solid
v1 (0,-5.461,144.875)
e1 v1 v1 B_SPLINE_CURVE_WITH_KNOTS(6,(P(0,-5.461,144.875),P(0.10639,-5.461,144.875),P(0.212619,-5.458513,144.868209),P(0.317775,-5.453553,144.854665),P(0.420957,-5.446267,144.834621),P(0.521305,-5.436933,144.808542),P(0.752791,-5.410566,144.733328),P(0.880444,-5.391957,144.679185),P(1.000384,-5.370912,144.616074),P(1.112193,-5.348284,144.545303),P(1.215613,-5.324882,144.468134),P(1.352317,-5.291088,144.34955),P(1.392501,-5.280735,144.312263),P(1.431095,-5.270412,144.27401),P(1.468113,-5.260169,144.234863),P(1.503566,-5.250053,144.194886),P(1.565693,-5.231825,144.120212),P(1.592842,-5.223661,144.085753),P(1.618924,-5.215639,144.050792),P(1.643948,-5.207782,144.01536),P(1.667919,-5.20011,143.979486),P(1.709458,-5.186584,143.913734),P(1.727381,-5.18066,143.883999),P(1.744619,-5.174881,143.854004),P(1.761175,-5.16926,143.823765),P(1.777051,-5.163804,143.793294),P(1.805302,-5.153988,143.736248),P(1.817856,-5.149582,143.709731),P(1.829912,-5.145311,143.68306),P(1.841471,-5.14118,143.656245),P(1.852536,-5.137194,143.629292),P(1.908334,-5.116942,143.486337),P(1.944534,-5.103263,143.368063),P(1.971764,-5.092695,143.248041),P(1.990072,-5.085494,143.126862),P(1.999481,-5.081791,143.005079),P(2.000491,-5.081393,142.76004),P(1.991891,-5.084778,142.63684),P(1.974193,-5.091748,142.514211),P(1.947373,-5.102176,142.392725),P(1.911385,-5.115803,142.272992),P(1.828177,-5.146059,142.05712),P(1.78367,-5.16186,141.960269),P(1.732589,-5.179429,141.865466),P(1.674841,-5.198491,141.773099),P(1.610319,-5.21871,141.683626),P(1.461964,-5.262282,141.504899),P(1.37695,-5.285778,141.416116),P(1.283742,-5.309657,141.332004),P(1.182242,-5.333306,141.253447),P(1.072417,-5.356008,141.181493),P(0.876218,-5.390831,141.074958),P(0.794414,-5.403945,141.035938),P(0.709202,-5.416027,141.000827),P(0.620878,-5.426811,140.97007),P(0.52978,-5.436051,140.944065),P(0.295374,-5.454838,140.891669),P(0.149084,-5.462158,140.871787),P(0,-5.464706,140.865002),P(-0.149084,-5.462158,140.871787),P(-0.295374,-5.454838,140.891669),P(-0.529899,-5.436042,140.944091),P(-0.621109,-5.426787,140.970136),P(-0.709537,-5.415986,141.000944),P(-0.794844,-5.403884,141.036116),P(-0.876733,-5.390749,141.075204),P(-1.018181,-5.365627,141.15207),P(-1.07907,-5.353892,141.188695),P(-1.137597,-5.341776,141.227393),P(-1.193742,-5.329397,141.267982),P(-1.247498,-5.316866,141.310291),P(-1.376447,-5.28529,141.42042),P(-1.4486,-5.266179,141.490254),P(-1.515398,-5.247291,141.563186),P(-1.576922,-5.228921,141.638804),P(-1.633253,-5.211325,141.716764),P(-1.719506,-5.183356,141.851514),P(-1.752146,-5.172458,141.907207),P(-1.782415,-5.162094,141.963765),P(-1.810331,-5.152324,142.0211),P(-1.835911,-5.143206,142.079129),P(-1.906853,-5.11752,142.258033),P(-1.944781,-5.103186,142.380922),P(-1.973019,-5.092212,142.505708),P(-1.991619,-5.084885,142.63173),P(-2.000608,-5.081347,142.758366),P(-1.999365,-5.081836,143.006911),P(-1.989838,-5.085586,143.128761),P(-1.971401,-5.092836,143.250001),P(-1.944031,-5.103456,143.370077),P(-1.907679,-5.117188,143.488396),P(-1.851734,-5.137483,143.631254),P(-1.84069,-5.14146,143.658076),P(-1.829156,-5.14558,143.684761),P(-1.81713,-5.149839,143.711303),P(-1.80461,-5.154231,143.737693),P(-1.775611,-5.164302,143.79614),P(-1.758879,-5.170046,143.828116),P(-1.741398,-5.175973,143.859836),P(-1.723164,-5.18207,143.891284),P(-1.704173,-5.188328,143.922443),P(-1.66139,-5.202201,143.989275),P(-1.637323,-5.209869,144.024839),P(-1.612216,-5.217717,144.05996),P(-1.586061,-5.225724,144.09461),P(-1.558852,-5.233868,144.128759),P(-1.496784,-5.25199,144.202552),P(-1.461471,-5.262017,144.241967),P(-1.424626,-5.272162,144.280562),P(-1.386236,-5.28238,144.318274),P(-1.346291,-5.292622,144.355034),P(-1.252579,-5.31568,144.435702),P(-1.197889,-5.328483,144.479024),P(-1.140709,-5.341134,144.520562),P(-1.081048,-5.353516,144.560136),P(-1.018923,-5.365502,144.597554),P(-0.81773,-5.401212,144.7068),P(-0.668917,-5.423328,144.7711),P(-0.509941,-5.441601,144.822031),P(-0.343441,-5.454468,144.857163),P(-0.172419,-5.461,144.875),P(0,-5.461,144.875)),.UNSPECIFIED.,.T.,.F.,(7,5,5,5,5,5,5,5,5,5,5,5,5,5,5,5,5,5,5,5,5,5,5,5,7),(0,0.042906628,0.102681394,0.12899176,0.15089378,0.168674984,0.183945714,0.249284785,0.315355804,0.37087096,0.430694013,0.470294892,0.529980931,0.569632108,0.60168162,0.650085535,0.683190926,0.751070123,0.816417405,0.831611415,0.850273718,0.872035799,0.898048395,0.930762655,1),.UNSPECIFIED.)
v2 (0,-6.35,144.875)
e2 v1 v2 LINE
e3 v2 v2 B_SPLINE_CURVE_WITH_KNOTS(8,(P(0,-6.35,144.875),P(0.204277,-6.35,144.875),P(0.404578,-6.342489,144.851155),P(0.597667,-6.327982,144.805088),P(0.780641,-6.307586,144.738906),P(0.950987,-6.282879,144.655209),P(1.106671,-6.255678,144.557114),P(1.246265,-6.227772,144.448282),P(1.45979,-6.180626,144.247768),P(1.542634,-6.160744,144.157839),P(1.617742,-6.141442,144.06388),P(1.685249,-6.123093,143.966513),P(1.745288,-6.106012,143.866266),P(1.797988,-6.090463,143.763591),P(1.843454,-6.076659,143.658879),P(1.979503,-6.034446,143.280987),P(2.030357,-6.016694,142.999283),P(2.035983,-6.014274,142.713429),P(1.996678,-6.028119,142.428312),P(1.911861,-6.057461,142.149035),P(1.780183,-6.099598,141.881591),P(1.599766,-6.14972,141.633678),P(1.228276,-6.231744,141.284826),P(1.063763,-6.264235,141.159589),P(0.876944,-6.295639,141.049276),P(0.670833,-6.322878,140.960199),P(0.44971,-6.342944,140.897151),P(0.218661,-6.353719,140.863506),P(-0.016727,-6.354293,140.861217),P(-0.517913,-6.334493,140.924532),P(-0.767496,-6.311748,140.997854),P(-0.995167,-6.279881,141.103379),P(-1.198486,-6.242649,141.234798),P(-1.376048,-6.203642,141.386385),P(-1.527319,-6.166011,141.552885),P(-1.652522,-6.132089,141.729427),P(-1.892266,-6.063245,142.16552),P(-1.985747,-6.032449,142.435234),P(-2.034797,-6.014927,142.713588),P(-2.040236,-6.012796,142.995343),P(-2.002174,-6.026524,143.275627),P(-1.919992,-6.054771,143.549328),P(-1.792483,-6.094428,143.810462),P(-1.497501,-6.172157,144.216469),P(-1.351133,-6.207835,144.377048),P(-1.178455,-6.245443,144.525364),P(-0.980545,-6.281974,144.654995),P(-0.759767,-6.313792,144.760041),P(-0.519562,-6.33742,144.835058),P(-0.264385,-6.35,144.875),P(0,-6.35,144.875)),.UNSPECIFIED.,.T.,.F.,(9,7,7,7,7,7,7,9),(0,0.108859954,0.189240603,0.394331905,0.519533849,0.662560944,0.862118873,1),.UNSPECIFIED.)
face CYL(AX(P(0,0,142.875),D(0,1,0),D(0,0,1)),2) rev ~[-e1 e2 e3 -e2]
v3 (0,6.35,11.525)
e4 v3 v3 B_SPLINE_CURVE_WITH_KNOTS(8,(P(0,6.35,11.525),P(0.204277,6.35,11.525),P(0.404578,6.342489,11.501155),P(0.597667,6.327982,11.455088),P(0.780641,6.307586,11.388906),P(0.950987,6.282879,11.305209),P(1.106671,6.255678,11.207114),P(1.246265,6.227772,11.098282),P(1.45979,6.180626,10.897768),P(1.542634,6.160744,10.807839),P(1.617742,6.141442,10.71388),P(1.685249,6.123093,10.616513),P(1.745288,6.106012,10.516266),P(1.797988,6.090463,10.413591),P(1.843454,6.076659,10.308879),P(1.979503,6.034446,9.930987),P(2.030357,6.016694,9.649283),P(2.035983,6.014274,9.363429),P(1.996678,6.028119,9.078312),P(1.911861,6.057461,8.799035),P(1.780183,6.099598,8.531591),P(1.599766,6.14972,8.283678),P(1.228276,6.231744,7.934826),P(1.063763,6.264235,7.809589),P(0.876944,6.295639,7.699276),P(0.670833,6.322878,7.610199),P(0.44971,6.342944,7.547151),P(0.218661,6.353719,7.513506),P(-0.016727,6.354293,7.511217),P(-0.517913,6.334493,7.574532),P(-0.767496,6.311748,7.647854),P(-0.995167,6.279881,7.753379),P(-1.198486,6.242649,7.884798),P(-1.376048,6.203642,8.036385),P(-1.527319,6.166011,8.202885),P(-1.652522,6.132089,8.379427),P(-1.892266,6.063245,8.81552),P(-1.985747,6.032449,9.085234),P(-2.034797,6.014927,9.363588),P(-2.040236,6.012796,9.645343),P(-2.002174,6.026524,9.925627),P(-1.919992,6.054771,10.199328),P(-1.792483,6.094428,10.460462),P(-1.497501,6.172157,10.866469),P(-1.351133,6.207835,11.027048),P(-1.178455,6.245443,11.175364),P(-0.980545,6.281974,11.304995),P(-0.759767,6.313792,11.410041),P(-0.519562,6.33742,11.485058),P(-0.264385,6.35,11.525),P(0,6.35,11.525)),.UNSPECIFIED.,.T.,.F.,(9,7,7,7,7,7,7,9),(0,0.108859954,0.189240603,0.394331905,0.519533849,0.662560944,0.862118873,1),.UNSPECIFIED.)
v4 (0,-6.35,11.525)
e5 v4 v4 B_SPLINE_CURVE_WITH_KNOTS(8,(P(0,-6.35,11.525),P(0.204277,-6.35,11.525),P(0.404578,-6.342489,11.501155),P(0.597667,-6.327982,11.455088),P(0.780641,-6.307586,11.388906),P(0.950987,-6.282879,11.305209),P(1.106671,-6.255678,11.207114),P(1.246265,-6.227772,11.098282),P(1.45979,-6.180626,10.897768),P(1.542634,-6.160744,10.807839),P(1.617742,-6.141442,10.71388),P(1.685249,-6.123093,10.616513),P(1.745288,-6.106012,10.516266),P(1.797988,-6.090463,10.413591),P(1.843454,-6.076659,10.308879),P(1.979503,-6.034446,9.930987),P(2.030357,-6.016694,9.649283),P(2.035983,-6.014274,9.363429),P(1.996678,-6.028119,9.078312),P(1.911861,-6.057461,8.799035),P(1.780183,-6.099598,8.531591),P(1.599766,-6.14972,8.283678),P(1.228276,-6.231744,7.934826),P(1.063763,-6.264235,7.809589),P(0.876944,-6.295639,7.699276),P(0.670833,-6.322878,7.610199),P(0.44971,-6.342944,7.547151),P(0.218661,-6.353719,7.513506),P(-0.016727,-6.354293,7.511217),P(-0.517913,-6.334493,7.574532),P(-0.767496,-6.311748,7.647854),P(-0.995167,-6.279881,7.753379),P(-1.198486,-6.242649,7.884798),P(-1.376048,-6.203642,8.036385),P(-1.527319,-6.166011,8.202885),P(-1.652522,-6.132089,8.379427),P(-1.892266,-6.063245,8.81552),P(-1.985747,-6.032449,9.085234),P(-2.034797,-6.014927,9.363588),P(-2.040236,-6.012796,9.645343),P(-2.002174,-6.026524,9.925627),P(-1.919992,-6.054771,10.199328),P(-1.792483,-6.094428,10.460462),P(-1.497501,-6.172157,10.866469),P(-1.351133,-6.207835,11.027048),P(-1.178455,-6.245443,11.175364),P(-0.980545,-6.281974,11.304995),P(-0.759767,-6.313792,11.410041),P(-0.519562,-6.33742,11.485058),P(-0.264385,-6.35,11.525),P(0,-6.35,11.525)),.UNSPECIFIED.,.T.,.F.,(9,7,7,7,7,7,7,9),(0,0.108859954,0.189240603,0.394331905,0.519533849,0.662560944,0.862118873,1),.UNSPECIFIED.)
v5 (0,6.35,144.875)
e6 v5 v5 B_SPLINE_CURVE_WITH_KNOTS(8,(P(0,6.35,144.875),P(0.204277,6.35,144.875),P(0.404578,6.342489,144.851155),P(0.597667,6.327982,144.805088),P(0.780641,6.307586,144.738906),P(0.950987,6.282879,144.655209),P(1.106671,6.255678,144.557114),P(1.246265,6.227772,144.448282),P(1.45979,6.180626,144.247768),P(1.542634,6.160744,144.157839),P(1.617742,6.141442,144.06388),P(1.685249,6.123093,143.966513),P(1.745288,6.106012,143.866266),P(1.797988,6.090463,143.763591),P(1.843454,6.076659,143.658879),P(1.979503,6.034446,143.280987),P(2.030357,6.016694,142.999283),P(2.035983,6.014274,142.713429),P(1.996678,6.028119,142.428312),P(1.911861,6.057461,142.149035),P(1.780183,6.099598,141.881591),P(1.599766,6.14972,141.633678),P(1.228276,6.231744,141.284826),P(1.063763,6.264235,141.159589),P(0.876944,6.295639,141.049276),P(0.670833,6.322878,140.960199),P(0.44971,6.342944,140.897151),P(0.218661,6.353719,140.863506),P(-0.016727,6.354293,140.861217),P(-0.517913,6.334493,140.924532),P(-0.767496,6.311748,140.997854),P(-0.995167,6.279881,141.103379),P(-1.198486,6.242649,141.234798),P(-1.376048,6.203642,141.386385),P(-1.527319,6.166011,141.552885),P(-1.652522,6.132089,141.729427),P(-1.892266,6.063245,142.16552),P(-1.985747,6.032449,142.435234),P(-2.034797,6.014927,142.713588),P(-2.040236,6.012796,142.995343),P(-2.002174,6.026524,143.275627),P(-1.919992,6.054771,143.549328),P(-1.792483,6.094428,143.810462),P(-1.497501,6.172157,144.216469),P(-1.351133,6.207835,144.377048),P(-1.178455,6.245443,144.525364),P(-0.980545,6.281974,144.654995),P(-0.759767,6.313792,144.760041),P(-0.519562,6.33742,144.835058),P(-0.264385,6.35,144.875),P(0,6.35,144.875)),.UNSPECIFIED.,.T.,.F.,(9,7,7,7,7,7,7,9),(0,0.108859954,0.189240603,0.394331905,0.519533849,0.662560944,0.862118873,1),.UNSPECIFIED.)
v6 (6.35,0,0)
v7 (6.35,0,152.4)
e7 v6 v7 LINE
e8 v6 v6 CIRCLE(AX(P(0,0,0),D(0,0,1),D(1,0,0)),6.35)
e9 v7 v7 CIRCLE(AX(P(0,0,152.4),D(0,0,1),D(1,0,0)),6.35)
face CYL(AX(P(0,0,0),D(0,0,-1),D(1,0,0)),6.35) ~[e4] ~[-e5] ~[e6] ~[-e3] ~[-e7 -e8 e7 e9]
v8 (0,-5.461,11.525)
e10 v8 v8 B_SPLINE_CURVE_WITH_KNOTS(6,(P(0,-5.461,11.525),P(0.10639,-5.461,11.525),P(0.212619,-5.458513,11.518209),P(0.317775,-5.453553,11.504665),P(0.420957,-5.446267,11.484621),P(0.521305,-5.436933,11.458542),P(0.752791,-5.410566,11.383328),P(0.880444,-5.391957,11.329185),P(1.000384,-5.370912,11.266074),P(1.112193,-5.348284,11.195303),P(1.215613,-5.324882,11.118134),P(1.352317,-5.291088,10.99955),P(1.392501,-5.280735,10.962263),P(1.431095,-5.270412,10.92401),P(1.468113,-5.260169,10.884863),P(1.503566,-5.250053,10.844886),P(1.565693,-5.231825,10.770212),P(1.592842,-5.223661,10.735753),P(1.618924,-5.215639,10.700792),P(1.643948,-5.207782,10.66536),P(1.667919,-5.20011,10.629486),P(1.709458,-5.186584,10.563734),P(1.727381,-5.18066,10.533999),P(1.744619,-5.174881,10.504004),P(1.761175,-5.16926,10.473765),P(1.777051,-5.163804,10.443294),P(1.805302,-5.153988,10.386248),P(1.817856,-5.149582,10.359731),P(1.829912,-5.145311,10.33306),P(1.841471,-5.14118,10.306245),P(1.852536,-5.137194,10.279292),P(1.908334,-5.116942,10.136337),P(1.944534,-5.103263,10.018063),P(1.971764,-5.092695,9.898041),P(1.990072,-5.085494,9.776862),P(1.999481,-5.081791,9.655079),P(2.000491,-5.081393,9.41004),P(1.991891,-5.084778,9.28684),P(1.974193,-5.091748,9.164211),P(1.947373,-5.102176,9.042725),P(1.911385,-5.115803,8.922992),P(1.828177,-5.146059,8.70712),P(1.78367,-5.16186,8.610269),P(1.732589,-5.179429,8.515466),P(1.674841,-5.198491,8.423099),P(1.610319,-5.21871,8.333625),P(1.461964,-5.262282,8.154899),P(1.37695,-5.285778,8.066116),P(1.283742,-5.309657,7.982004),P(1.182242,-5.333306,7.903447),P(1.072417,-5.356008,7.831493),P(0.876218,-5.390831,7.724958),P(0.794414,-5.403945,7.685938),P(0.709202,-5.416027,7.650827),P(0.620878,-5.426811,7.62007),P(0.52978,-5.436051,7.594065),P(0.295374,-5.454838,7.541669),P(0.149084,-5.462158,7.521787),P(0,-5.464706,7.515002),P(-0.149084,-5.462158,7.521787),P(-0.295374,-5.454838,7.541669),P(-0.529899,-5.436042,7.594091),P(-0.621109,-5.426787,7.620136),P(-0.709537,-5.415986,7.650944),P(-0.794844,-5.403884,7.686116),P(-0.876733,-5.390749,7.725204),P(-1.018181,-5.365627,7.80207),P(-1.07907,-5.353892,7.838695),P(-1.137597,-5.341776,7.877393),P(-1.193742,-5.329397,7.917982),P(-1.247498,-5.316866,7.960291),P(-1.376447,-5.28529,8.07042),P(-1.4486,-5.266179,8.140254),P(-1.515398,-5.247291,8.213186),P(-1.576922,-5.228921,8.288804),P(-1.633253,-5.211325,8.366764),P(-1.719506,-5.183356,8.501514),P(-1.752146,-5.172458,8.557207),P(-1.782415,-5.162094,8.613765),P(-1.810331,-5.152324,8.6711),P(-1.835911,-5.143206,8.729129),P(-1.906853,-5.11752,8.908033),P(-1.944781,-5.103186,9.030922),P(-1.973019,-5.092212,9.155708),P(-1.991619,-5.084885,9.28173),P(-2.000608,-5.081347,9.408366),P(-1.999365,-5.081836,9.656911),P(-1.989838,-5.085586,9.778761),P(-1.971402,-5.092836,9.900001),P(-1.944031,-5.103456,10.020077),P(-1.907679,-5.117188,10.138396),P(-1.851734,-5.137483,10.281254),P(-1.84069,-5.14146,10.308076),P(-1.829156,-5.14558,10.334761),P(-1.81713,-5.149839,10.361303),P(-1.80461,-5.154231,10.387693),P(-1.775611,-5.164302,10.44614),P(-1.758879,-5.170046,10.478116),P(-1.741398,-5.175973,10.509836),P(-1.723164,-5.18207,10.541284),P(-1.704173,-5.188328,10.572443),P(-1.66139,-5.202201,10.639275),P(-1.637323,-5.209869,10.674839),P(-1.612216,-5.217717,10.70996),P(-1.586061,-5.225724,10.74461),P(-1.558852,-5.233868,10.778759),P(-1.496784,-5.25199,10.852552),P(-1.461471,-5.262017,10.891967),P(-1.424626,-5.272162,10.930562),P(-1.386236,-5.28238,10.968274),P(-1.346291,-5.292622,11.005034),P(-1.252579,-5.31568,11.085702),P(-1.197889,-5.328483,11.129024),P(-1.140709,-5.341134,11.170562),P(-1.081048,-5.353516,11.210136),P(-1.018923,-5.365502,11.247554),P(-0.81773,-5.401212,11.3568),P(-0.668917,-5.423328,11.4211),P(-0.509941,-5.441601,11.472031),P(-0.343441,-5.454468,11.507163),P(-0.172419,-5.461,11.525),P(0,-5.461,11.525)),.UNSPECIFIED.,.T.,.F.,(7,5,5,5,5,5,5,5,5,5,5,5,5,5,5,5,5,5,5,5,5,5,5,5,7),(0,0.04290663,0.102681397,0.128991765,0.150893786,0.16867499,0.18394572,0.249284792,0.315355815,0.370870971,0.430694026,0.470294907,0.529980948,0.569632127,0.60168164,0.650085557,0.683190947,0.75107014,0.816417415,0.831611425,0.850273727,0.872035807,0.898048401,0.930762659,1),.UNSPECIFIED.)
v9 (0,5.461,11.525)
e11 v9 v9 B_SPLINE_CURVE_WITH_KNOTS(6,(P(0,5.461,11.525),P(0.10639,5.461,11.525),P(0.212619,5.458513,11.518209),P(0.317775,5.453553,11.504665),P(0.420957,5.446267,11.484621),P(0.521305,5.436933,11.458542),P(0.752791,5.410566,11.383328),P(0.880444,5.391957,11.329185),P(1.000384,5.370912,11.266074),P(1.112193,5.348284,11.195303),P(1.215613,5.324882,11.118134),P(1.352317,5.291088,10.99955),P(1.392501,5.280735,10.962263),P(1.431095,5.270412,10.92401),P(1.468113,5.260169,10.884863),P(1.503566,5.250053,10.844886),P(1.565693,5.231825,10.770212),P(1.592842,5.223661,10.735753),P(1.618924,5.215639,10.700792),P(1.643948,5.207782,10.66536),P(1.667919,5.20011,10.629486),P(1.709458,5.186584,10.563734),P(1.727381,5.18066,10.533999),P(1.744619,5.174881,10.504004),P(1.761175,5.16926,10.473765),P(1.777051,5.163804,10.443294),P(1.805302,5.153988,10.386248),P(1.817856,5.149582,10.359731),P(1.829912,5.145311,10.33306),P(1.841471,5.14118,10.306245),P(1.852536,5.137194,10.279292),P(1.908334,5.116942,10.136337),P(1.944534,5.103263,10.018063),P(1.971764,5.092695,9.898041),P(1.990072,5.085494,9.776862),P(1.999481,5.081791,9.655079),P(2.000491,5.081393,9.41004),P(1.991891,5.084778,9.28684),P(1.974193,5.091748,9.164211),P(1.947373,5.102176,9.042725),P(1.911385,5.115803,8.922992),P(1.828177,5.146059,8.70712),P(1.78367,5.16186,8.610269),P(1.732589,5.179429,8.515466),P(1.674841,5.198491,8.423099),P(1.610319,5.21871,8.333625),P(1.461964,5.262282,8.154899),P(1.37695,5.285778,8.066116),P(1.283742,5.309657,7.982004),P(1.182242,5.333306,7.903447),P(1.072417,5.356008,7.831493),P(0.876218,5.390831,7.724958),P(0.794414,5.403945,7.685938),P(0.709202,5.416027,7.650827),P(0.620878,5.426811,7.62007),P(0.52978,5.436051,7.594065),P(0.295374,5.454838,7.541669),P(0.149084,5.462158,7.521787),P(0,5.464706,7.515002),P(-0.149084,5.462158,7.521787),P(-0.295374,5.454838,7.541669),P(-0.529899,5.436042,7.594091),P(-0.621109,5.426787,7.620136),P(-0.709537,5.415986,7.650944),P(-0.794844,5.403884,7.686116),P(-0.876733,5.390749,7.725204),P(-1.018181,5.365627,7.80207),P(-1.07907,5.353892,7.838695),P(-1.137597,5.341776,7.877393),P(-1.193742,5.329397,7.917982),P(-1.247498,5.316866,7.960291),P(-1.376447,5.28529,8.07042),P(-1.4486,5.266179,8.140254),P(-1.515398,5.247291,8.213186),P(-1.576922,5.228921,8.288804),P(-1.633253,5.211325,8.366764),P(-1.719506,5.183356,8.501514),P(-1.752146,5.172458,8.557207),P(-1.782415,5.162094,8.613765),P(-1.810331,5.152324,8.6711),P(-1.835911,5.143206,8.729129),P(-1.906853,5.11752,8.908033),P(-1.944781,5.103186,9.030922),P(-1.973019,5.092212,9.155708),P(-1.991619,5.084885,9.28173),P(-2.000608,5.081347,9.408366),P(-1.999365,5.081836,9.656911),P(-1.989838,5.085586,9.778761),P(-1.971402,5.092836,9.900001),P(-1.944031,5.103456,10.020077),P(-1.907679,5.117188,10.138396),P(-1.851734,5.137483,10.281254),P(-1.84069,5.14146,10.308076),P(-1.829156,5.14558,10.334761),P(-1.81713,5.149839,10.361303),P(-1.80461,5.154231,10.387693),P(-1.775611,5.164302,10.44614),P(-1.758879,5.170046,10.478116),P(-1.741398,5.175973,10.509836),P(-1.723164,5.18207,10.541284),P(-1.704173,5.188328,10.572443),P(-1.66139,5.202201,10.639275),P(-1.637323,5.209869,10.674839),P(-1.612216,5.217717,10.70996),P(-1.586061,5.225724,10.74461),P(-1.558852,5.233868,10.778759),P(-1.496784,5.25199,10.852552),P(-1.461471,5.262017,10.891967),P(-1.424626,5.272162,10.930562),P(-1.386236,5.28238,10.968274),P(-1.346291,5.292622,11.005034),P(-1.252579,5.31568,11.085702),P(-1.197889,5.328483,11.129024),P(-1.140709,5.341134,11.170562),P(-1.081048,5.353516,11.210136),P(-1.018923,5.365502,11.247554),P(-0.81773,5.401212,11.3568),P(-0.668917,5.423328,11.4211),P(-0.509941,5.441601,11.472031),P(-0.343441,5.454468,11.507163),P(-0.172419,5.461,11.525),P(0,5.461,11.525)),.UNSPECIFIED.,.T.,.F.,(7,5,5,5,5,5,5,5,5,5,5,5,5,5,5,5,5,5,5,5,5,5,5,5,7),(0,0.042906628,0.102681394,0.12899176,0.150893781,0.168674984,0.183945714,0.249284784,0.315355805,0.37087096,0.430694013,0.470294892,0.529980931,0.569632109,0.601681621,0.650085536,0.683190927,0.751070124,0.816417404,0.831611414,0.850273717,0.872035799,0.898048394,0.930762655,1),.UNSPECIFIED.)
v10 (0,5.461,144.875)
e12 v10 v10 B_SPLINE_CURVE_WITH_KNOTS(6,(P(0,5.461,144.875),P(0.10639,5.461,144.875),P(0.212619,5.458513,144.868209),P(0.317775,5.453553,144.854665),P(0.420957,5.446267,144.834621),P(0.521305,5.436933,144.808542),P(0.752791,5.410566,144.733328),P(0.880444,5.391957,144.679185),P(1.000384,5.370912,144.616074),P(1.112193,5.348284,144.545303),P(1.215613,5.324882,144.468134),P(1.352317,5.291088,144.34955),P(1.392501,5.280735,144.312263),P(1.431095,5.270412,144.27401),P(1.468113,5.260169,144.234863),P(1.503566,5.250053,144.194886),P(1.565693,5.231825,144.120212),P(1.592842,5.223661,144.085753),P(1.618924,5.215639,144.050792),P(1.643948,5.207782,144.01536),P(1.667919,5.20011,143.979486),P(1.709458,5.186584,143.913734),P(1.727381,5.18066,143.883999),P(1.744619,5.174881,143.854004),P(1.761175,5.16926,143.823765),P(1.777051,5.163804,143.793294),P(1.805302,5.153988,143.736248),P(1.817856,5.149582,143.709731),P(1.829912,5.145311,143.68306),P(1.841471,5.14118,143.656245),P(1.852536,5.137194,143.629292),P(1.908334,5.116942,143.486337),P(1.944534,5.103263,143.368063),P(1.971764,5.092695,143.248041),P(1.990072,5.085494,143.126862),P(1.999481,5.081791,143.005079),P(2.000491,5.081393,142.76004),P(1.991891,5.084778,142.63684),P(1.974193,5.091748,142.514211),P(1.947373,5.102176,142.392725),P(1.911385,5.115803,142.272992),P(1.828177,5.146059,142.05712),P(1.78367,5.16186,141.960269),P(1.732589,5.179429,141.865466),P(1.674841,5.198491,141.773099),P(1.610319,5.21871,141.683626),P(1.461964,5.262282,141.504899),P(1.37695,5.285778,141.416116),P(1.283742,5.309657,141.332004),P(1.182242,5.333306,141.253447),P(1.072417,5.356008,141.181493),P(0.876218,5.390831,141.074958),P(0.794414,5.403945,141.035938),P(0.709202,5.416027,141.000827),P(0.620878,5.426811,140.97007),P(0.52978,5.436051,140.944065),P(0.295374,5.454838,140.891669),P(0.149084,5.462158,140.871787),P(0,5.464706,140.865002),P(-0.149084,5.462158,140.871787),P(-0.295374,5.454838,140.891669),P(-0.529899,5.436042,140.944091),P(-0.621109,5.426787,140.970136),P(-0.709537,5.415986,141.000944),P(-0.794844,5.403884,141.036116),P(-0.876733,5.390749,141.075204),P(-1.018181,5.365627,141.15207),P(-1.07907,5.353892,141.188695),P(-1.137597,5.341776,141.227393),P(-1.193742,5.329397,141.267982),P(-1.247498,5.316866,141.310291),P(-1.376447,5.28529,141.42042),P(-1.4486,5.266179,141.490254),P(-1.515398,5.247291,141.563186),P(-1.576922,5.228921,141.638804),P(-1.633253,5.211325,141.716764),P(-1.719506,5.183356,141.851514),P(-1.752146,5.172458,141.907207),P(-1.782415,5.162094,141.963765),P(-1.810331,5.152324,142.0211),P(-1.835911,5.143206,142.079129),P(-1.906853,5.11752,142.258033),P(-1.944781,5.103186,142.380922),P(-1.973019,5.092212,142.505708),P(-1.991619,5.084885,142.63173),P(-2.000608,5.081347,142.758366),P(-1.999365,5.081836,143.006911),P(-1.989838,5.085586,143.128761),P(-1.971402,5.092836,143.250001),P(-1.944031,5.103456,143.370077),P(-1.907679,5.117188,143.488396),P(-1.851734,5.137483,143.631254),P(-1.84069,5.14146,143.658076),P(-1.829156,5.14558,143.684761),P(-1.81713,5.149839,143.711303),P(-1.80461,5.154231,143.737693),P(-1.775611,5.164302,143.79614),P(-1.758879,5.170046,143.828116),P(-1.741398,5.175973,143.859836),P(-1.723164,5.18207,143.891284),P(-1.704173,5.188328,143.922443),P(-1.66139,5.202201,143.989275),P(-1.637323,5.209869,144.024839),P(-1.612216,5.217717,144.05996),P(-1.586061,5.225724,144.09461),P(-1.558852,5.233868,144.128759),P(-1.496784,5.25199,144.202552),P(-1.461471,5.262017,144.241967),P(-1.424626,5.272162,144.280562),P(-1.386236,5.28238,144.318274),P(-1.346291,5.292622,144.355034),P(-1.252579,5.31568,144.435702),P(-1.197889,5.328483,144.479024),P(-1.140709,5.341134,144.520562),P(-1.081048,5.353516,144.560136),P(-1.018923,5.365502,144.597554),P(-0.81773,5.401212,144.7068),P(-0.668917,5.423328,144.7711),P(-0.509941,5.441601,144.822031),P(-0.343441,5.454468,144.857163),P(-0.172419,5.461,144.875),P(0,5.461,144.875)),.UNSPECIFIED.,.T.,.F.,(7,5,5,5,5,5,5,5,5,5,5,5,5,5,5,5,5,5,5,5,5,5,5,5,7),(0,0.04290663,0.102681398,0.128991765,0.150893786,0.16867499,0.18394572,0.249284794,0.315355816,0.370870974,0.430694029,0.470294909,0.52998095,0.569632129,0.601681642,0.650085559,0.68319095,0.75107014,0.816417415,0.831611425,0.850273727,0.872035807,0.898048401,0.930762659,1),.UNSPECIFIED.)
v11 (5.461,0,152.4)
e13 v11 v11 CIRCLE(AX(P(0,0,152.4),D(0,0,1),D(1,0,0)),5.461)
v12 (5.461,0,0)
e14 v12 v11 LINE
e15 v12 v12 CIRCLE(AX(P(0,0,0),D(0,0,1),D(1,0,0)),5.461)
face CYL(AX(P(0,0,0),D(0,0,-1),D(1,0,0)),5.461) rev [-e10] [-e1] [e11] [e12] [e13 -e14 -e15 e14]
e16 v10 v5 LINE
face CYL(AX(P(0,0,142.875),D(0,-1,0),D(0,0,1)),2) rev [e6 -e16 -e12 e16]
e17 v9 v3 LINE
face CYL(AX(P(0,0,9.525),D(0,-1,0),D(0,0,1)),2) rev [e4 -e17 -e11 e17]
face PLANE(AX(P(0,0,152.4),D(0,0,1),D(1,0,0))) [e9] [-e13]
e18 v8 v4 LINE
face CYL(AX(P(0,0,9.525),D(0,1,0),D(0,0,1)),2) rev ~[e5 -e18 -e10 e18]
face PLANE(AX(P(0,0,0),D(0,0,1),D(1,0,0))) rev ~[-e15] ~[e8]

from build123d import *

# Parameters (mm, degrees)
SKETCH1_R               = 6.35
SKETCH1_R_2             = 5.461
EXTRUDE1_DEPTH          = 152.4
SKETCH2_R               = 2
CUT_EXTRUDE1_DEPTH      = 38.1
CUT_EXTRUDE1_DEPTH_BACK = 38.1


with BuildPart() as part:
    # Sketch1 → Extrude1 (new body)
    with BuildSketch(Plane.XY):
        Circle(SKETCH1_R)
        Circle(SKETCH1_R_2, mode=Mode.SUBTRACT)
    extrude(amount=EXTRUDE1_DEPTH)

    # Sketch2 → Cut-Extrude1 (cut, two sides)
    with BuildSketch(Plane(origin=(0, 0, 0), x_dir=(1, 0, 0), z_dir=(0, 1, 0))) as cut_extrude1_sk:
        with Locations(Location((0, -9.525, 0), (0, 0, 270))):  # turned: the seam where the file's is
            Circle(SKETCH2_R)
        with Locations(Location((0, -142.875, 0), (0, 0, 270))):  # turned: the seam where the file's is
            Circle(SKETCH2_R)
    extrude(amount=CUT_EXTRUDE1_DEPTH, mode=Mode.SUBTRACT)
    extrude(cut_extrude1_sk.sketch, amount=-CUT_EXTRUDE1_DEPTH_BACK, mode=Mode.SUBTRACT)


solid = part.part
